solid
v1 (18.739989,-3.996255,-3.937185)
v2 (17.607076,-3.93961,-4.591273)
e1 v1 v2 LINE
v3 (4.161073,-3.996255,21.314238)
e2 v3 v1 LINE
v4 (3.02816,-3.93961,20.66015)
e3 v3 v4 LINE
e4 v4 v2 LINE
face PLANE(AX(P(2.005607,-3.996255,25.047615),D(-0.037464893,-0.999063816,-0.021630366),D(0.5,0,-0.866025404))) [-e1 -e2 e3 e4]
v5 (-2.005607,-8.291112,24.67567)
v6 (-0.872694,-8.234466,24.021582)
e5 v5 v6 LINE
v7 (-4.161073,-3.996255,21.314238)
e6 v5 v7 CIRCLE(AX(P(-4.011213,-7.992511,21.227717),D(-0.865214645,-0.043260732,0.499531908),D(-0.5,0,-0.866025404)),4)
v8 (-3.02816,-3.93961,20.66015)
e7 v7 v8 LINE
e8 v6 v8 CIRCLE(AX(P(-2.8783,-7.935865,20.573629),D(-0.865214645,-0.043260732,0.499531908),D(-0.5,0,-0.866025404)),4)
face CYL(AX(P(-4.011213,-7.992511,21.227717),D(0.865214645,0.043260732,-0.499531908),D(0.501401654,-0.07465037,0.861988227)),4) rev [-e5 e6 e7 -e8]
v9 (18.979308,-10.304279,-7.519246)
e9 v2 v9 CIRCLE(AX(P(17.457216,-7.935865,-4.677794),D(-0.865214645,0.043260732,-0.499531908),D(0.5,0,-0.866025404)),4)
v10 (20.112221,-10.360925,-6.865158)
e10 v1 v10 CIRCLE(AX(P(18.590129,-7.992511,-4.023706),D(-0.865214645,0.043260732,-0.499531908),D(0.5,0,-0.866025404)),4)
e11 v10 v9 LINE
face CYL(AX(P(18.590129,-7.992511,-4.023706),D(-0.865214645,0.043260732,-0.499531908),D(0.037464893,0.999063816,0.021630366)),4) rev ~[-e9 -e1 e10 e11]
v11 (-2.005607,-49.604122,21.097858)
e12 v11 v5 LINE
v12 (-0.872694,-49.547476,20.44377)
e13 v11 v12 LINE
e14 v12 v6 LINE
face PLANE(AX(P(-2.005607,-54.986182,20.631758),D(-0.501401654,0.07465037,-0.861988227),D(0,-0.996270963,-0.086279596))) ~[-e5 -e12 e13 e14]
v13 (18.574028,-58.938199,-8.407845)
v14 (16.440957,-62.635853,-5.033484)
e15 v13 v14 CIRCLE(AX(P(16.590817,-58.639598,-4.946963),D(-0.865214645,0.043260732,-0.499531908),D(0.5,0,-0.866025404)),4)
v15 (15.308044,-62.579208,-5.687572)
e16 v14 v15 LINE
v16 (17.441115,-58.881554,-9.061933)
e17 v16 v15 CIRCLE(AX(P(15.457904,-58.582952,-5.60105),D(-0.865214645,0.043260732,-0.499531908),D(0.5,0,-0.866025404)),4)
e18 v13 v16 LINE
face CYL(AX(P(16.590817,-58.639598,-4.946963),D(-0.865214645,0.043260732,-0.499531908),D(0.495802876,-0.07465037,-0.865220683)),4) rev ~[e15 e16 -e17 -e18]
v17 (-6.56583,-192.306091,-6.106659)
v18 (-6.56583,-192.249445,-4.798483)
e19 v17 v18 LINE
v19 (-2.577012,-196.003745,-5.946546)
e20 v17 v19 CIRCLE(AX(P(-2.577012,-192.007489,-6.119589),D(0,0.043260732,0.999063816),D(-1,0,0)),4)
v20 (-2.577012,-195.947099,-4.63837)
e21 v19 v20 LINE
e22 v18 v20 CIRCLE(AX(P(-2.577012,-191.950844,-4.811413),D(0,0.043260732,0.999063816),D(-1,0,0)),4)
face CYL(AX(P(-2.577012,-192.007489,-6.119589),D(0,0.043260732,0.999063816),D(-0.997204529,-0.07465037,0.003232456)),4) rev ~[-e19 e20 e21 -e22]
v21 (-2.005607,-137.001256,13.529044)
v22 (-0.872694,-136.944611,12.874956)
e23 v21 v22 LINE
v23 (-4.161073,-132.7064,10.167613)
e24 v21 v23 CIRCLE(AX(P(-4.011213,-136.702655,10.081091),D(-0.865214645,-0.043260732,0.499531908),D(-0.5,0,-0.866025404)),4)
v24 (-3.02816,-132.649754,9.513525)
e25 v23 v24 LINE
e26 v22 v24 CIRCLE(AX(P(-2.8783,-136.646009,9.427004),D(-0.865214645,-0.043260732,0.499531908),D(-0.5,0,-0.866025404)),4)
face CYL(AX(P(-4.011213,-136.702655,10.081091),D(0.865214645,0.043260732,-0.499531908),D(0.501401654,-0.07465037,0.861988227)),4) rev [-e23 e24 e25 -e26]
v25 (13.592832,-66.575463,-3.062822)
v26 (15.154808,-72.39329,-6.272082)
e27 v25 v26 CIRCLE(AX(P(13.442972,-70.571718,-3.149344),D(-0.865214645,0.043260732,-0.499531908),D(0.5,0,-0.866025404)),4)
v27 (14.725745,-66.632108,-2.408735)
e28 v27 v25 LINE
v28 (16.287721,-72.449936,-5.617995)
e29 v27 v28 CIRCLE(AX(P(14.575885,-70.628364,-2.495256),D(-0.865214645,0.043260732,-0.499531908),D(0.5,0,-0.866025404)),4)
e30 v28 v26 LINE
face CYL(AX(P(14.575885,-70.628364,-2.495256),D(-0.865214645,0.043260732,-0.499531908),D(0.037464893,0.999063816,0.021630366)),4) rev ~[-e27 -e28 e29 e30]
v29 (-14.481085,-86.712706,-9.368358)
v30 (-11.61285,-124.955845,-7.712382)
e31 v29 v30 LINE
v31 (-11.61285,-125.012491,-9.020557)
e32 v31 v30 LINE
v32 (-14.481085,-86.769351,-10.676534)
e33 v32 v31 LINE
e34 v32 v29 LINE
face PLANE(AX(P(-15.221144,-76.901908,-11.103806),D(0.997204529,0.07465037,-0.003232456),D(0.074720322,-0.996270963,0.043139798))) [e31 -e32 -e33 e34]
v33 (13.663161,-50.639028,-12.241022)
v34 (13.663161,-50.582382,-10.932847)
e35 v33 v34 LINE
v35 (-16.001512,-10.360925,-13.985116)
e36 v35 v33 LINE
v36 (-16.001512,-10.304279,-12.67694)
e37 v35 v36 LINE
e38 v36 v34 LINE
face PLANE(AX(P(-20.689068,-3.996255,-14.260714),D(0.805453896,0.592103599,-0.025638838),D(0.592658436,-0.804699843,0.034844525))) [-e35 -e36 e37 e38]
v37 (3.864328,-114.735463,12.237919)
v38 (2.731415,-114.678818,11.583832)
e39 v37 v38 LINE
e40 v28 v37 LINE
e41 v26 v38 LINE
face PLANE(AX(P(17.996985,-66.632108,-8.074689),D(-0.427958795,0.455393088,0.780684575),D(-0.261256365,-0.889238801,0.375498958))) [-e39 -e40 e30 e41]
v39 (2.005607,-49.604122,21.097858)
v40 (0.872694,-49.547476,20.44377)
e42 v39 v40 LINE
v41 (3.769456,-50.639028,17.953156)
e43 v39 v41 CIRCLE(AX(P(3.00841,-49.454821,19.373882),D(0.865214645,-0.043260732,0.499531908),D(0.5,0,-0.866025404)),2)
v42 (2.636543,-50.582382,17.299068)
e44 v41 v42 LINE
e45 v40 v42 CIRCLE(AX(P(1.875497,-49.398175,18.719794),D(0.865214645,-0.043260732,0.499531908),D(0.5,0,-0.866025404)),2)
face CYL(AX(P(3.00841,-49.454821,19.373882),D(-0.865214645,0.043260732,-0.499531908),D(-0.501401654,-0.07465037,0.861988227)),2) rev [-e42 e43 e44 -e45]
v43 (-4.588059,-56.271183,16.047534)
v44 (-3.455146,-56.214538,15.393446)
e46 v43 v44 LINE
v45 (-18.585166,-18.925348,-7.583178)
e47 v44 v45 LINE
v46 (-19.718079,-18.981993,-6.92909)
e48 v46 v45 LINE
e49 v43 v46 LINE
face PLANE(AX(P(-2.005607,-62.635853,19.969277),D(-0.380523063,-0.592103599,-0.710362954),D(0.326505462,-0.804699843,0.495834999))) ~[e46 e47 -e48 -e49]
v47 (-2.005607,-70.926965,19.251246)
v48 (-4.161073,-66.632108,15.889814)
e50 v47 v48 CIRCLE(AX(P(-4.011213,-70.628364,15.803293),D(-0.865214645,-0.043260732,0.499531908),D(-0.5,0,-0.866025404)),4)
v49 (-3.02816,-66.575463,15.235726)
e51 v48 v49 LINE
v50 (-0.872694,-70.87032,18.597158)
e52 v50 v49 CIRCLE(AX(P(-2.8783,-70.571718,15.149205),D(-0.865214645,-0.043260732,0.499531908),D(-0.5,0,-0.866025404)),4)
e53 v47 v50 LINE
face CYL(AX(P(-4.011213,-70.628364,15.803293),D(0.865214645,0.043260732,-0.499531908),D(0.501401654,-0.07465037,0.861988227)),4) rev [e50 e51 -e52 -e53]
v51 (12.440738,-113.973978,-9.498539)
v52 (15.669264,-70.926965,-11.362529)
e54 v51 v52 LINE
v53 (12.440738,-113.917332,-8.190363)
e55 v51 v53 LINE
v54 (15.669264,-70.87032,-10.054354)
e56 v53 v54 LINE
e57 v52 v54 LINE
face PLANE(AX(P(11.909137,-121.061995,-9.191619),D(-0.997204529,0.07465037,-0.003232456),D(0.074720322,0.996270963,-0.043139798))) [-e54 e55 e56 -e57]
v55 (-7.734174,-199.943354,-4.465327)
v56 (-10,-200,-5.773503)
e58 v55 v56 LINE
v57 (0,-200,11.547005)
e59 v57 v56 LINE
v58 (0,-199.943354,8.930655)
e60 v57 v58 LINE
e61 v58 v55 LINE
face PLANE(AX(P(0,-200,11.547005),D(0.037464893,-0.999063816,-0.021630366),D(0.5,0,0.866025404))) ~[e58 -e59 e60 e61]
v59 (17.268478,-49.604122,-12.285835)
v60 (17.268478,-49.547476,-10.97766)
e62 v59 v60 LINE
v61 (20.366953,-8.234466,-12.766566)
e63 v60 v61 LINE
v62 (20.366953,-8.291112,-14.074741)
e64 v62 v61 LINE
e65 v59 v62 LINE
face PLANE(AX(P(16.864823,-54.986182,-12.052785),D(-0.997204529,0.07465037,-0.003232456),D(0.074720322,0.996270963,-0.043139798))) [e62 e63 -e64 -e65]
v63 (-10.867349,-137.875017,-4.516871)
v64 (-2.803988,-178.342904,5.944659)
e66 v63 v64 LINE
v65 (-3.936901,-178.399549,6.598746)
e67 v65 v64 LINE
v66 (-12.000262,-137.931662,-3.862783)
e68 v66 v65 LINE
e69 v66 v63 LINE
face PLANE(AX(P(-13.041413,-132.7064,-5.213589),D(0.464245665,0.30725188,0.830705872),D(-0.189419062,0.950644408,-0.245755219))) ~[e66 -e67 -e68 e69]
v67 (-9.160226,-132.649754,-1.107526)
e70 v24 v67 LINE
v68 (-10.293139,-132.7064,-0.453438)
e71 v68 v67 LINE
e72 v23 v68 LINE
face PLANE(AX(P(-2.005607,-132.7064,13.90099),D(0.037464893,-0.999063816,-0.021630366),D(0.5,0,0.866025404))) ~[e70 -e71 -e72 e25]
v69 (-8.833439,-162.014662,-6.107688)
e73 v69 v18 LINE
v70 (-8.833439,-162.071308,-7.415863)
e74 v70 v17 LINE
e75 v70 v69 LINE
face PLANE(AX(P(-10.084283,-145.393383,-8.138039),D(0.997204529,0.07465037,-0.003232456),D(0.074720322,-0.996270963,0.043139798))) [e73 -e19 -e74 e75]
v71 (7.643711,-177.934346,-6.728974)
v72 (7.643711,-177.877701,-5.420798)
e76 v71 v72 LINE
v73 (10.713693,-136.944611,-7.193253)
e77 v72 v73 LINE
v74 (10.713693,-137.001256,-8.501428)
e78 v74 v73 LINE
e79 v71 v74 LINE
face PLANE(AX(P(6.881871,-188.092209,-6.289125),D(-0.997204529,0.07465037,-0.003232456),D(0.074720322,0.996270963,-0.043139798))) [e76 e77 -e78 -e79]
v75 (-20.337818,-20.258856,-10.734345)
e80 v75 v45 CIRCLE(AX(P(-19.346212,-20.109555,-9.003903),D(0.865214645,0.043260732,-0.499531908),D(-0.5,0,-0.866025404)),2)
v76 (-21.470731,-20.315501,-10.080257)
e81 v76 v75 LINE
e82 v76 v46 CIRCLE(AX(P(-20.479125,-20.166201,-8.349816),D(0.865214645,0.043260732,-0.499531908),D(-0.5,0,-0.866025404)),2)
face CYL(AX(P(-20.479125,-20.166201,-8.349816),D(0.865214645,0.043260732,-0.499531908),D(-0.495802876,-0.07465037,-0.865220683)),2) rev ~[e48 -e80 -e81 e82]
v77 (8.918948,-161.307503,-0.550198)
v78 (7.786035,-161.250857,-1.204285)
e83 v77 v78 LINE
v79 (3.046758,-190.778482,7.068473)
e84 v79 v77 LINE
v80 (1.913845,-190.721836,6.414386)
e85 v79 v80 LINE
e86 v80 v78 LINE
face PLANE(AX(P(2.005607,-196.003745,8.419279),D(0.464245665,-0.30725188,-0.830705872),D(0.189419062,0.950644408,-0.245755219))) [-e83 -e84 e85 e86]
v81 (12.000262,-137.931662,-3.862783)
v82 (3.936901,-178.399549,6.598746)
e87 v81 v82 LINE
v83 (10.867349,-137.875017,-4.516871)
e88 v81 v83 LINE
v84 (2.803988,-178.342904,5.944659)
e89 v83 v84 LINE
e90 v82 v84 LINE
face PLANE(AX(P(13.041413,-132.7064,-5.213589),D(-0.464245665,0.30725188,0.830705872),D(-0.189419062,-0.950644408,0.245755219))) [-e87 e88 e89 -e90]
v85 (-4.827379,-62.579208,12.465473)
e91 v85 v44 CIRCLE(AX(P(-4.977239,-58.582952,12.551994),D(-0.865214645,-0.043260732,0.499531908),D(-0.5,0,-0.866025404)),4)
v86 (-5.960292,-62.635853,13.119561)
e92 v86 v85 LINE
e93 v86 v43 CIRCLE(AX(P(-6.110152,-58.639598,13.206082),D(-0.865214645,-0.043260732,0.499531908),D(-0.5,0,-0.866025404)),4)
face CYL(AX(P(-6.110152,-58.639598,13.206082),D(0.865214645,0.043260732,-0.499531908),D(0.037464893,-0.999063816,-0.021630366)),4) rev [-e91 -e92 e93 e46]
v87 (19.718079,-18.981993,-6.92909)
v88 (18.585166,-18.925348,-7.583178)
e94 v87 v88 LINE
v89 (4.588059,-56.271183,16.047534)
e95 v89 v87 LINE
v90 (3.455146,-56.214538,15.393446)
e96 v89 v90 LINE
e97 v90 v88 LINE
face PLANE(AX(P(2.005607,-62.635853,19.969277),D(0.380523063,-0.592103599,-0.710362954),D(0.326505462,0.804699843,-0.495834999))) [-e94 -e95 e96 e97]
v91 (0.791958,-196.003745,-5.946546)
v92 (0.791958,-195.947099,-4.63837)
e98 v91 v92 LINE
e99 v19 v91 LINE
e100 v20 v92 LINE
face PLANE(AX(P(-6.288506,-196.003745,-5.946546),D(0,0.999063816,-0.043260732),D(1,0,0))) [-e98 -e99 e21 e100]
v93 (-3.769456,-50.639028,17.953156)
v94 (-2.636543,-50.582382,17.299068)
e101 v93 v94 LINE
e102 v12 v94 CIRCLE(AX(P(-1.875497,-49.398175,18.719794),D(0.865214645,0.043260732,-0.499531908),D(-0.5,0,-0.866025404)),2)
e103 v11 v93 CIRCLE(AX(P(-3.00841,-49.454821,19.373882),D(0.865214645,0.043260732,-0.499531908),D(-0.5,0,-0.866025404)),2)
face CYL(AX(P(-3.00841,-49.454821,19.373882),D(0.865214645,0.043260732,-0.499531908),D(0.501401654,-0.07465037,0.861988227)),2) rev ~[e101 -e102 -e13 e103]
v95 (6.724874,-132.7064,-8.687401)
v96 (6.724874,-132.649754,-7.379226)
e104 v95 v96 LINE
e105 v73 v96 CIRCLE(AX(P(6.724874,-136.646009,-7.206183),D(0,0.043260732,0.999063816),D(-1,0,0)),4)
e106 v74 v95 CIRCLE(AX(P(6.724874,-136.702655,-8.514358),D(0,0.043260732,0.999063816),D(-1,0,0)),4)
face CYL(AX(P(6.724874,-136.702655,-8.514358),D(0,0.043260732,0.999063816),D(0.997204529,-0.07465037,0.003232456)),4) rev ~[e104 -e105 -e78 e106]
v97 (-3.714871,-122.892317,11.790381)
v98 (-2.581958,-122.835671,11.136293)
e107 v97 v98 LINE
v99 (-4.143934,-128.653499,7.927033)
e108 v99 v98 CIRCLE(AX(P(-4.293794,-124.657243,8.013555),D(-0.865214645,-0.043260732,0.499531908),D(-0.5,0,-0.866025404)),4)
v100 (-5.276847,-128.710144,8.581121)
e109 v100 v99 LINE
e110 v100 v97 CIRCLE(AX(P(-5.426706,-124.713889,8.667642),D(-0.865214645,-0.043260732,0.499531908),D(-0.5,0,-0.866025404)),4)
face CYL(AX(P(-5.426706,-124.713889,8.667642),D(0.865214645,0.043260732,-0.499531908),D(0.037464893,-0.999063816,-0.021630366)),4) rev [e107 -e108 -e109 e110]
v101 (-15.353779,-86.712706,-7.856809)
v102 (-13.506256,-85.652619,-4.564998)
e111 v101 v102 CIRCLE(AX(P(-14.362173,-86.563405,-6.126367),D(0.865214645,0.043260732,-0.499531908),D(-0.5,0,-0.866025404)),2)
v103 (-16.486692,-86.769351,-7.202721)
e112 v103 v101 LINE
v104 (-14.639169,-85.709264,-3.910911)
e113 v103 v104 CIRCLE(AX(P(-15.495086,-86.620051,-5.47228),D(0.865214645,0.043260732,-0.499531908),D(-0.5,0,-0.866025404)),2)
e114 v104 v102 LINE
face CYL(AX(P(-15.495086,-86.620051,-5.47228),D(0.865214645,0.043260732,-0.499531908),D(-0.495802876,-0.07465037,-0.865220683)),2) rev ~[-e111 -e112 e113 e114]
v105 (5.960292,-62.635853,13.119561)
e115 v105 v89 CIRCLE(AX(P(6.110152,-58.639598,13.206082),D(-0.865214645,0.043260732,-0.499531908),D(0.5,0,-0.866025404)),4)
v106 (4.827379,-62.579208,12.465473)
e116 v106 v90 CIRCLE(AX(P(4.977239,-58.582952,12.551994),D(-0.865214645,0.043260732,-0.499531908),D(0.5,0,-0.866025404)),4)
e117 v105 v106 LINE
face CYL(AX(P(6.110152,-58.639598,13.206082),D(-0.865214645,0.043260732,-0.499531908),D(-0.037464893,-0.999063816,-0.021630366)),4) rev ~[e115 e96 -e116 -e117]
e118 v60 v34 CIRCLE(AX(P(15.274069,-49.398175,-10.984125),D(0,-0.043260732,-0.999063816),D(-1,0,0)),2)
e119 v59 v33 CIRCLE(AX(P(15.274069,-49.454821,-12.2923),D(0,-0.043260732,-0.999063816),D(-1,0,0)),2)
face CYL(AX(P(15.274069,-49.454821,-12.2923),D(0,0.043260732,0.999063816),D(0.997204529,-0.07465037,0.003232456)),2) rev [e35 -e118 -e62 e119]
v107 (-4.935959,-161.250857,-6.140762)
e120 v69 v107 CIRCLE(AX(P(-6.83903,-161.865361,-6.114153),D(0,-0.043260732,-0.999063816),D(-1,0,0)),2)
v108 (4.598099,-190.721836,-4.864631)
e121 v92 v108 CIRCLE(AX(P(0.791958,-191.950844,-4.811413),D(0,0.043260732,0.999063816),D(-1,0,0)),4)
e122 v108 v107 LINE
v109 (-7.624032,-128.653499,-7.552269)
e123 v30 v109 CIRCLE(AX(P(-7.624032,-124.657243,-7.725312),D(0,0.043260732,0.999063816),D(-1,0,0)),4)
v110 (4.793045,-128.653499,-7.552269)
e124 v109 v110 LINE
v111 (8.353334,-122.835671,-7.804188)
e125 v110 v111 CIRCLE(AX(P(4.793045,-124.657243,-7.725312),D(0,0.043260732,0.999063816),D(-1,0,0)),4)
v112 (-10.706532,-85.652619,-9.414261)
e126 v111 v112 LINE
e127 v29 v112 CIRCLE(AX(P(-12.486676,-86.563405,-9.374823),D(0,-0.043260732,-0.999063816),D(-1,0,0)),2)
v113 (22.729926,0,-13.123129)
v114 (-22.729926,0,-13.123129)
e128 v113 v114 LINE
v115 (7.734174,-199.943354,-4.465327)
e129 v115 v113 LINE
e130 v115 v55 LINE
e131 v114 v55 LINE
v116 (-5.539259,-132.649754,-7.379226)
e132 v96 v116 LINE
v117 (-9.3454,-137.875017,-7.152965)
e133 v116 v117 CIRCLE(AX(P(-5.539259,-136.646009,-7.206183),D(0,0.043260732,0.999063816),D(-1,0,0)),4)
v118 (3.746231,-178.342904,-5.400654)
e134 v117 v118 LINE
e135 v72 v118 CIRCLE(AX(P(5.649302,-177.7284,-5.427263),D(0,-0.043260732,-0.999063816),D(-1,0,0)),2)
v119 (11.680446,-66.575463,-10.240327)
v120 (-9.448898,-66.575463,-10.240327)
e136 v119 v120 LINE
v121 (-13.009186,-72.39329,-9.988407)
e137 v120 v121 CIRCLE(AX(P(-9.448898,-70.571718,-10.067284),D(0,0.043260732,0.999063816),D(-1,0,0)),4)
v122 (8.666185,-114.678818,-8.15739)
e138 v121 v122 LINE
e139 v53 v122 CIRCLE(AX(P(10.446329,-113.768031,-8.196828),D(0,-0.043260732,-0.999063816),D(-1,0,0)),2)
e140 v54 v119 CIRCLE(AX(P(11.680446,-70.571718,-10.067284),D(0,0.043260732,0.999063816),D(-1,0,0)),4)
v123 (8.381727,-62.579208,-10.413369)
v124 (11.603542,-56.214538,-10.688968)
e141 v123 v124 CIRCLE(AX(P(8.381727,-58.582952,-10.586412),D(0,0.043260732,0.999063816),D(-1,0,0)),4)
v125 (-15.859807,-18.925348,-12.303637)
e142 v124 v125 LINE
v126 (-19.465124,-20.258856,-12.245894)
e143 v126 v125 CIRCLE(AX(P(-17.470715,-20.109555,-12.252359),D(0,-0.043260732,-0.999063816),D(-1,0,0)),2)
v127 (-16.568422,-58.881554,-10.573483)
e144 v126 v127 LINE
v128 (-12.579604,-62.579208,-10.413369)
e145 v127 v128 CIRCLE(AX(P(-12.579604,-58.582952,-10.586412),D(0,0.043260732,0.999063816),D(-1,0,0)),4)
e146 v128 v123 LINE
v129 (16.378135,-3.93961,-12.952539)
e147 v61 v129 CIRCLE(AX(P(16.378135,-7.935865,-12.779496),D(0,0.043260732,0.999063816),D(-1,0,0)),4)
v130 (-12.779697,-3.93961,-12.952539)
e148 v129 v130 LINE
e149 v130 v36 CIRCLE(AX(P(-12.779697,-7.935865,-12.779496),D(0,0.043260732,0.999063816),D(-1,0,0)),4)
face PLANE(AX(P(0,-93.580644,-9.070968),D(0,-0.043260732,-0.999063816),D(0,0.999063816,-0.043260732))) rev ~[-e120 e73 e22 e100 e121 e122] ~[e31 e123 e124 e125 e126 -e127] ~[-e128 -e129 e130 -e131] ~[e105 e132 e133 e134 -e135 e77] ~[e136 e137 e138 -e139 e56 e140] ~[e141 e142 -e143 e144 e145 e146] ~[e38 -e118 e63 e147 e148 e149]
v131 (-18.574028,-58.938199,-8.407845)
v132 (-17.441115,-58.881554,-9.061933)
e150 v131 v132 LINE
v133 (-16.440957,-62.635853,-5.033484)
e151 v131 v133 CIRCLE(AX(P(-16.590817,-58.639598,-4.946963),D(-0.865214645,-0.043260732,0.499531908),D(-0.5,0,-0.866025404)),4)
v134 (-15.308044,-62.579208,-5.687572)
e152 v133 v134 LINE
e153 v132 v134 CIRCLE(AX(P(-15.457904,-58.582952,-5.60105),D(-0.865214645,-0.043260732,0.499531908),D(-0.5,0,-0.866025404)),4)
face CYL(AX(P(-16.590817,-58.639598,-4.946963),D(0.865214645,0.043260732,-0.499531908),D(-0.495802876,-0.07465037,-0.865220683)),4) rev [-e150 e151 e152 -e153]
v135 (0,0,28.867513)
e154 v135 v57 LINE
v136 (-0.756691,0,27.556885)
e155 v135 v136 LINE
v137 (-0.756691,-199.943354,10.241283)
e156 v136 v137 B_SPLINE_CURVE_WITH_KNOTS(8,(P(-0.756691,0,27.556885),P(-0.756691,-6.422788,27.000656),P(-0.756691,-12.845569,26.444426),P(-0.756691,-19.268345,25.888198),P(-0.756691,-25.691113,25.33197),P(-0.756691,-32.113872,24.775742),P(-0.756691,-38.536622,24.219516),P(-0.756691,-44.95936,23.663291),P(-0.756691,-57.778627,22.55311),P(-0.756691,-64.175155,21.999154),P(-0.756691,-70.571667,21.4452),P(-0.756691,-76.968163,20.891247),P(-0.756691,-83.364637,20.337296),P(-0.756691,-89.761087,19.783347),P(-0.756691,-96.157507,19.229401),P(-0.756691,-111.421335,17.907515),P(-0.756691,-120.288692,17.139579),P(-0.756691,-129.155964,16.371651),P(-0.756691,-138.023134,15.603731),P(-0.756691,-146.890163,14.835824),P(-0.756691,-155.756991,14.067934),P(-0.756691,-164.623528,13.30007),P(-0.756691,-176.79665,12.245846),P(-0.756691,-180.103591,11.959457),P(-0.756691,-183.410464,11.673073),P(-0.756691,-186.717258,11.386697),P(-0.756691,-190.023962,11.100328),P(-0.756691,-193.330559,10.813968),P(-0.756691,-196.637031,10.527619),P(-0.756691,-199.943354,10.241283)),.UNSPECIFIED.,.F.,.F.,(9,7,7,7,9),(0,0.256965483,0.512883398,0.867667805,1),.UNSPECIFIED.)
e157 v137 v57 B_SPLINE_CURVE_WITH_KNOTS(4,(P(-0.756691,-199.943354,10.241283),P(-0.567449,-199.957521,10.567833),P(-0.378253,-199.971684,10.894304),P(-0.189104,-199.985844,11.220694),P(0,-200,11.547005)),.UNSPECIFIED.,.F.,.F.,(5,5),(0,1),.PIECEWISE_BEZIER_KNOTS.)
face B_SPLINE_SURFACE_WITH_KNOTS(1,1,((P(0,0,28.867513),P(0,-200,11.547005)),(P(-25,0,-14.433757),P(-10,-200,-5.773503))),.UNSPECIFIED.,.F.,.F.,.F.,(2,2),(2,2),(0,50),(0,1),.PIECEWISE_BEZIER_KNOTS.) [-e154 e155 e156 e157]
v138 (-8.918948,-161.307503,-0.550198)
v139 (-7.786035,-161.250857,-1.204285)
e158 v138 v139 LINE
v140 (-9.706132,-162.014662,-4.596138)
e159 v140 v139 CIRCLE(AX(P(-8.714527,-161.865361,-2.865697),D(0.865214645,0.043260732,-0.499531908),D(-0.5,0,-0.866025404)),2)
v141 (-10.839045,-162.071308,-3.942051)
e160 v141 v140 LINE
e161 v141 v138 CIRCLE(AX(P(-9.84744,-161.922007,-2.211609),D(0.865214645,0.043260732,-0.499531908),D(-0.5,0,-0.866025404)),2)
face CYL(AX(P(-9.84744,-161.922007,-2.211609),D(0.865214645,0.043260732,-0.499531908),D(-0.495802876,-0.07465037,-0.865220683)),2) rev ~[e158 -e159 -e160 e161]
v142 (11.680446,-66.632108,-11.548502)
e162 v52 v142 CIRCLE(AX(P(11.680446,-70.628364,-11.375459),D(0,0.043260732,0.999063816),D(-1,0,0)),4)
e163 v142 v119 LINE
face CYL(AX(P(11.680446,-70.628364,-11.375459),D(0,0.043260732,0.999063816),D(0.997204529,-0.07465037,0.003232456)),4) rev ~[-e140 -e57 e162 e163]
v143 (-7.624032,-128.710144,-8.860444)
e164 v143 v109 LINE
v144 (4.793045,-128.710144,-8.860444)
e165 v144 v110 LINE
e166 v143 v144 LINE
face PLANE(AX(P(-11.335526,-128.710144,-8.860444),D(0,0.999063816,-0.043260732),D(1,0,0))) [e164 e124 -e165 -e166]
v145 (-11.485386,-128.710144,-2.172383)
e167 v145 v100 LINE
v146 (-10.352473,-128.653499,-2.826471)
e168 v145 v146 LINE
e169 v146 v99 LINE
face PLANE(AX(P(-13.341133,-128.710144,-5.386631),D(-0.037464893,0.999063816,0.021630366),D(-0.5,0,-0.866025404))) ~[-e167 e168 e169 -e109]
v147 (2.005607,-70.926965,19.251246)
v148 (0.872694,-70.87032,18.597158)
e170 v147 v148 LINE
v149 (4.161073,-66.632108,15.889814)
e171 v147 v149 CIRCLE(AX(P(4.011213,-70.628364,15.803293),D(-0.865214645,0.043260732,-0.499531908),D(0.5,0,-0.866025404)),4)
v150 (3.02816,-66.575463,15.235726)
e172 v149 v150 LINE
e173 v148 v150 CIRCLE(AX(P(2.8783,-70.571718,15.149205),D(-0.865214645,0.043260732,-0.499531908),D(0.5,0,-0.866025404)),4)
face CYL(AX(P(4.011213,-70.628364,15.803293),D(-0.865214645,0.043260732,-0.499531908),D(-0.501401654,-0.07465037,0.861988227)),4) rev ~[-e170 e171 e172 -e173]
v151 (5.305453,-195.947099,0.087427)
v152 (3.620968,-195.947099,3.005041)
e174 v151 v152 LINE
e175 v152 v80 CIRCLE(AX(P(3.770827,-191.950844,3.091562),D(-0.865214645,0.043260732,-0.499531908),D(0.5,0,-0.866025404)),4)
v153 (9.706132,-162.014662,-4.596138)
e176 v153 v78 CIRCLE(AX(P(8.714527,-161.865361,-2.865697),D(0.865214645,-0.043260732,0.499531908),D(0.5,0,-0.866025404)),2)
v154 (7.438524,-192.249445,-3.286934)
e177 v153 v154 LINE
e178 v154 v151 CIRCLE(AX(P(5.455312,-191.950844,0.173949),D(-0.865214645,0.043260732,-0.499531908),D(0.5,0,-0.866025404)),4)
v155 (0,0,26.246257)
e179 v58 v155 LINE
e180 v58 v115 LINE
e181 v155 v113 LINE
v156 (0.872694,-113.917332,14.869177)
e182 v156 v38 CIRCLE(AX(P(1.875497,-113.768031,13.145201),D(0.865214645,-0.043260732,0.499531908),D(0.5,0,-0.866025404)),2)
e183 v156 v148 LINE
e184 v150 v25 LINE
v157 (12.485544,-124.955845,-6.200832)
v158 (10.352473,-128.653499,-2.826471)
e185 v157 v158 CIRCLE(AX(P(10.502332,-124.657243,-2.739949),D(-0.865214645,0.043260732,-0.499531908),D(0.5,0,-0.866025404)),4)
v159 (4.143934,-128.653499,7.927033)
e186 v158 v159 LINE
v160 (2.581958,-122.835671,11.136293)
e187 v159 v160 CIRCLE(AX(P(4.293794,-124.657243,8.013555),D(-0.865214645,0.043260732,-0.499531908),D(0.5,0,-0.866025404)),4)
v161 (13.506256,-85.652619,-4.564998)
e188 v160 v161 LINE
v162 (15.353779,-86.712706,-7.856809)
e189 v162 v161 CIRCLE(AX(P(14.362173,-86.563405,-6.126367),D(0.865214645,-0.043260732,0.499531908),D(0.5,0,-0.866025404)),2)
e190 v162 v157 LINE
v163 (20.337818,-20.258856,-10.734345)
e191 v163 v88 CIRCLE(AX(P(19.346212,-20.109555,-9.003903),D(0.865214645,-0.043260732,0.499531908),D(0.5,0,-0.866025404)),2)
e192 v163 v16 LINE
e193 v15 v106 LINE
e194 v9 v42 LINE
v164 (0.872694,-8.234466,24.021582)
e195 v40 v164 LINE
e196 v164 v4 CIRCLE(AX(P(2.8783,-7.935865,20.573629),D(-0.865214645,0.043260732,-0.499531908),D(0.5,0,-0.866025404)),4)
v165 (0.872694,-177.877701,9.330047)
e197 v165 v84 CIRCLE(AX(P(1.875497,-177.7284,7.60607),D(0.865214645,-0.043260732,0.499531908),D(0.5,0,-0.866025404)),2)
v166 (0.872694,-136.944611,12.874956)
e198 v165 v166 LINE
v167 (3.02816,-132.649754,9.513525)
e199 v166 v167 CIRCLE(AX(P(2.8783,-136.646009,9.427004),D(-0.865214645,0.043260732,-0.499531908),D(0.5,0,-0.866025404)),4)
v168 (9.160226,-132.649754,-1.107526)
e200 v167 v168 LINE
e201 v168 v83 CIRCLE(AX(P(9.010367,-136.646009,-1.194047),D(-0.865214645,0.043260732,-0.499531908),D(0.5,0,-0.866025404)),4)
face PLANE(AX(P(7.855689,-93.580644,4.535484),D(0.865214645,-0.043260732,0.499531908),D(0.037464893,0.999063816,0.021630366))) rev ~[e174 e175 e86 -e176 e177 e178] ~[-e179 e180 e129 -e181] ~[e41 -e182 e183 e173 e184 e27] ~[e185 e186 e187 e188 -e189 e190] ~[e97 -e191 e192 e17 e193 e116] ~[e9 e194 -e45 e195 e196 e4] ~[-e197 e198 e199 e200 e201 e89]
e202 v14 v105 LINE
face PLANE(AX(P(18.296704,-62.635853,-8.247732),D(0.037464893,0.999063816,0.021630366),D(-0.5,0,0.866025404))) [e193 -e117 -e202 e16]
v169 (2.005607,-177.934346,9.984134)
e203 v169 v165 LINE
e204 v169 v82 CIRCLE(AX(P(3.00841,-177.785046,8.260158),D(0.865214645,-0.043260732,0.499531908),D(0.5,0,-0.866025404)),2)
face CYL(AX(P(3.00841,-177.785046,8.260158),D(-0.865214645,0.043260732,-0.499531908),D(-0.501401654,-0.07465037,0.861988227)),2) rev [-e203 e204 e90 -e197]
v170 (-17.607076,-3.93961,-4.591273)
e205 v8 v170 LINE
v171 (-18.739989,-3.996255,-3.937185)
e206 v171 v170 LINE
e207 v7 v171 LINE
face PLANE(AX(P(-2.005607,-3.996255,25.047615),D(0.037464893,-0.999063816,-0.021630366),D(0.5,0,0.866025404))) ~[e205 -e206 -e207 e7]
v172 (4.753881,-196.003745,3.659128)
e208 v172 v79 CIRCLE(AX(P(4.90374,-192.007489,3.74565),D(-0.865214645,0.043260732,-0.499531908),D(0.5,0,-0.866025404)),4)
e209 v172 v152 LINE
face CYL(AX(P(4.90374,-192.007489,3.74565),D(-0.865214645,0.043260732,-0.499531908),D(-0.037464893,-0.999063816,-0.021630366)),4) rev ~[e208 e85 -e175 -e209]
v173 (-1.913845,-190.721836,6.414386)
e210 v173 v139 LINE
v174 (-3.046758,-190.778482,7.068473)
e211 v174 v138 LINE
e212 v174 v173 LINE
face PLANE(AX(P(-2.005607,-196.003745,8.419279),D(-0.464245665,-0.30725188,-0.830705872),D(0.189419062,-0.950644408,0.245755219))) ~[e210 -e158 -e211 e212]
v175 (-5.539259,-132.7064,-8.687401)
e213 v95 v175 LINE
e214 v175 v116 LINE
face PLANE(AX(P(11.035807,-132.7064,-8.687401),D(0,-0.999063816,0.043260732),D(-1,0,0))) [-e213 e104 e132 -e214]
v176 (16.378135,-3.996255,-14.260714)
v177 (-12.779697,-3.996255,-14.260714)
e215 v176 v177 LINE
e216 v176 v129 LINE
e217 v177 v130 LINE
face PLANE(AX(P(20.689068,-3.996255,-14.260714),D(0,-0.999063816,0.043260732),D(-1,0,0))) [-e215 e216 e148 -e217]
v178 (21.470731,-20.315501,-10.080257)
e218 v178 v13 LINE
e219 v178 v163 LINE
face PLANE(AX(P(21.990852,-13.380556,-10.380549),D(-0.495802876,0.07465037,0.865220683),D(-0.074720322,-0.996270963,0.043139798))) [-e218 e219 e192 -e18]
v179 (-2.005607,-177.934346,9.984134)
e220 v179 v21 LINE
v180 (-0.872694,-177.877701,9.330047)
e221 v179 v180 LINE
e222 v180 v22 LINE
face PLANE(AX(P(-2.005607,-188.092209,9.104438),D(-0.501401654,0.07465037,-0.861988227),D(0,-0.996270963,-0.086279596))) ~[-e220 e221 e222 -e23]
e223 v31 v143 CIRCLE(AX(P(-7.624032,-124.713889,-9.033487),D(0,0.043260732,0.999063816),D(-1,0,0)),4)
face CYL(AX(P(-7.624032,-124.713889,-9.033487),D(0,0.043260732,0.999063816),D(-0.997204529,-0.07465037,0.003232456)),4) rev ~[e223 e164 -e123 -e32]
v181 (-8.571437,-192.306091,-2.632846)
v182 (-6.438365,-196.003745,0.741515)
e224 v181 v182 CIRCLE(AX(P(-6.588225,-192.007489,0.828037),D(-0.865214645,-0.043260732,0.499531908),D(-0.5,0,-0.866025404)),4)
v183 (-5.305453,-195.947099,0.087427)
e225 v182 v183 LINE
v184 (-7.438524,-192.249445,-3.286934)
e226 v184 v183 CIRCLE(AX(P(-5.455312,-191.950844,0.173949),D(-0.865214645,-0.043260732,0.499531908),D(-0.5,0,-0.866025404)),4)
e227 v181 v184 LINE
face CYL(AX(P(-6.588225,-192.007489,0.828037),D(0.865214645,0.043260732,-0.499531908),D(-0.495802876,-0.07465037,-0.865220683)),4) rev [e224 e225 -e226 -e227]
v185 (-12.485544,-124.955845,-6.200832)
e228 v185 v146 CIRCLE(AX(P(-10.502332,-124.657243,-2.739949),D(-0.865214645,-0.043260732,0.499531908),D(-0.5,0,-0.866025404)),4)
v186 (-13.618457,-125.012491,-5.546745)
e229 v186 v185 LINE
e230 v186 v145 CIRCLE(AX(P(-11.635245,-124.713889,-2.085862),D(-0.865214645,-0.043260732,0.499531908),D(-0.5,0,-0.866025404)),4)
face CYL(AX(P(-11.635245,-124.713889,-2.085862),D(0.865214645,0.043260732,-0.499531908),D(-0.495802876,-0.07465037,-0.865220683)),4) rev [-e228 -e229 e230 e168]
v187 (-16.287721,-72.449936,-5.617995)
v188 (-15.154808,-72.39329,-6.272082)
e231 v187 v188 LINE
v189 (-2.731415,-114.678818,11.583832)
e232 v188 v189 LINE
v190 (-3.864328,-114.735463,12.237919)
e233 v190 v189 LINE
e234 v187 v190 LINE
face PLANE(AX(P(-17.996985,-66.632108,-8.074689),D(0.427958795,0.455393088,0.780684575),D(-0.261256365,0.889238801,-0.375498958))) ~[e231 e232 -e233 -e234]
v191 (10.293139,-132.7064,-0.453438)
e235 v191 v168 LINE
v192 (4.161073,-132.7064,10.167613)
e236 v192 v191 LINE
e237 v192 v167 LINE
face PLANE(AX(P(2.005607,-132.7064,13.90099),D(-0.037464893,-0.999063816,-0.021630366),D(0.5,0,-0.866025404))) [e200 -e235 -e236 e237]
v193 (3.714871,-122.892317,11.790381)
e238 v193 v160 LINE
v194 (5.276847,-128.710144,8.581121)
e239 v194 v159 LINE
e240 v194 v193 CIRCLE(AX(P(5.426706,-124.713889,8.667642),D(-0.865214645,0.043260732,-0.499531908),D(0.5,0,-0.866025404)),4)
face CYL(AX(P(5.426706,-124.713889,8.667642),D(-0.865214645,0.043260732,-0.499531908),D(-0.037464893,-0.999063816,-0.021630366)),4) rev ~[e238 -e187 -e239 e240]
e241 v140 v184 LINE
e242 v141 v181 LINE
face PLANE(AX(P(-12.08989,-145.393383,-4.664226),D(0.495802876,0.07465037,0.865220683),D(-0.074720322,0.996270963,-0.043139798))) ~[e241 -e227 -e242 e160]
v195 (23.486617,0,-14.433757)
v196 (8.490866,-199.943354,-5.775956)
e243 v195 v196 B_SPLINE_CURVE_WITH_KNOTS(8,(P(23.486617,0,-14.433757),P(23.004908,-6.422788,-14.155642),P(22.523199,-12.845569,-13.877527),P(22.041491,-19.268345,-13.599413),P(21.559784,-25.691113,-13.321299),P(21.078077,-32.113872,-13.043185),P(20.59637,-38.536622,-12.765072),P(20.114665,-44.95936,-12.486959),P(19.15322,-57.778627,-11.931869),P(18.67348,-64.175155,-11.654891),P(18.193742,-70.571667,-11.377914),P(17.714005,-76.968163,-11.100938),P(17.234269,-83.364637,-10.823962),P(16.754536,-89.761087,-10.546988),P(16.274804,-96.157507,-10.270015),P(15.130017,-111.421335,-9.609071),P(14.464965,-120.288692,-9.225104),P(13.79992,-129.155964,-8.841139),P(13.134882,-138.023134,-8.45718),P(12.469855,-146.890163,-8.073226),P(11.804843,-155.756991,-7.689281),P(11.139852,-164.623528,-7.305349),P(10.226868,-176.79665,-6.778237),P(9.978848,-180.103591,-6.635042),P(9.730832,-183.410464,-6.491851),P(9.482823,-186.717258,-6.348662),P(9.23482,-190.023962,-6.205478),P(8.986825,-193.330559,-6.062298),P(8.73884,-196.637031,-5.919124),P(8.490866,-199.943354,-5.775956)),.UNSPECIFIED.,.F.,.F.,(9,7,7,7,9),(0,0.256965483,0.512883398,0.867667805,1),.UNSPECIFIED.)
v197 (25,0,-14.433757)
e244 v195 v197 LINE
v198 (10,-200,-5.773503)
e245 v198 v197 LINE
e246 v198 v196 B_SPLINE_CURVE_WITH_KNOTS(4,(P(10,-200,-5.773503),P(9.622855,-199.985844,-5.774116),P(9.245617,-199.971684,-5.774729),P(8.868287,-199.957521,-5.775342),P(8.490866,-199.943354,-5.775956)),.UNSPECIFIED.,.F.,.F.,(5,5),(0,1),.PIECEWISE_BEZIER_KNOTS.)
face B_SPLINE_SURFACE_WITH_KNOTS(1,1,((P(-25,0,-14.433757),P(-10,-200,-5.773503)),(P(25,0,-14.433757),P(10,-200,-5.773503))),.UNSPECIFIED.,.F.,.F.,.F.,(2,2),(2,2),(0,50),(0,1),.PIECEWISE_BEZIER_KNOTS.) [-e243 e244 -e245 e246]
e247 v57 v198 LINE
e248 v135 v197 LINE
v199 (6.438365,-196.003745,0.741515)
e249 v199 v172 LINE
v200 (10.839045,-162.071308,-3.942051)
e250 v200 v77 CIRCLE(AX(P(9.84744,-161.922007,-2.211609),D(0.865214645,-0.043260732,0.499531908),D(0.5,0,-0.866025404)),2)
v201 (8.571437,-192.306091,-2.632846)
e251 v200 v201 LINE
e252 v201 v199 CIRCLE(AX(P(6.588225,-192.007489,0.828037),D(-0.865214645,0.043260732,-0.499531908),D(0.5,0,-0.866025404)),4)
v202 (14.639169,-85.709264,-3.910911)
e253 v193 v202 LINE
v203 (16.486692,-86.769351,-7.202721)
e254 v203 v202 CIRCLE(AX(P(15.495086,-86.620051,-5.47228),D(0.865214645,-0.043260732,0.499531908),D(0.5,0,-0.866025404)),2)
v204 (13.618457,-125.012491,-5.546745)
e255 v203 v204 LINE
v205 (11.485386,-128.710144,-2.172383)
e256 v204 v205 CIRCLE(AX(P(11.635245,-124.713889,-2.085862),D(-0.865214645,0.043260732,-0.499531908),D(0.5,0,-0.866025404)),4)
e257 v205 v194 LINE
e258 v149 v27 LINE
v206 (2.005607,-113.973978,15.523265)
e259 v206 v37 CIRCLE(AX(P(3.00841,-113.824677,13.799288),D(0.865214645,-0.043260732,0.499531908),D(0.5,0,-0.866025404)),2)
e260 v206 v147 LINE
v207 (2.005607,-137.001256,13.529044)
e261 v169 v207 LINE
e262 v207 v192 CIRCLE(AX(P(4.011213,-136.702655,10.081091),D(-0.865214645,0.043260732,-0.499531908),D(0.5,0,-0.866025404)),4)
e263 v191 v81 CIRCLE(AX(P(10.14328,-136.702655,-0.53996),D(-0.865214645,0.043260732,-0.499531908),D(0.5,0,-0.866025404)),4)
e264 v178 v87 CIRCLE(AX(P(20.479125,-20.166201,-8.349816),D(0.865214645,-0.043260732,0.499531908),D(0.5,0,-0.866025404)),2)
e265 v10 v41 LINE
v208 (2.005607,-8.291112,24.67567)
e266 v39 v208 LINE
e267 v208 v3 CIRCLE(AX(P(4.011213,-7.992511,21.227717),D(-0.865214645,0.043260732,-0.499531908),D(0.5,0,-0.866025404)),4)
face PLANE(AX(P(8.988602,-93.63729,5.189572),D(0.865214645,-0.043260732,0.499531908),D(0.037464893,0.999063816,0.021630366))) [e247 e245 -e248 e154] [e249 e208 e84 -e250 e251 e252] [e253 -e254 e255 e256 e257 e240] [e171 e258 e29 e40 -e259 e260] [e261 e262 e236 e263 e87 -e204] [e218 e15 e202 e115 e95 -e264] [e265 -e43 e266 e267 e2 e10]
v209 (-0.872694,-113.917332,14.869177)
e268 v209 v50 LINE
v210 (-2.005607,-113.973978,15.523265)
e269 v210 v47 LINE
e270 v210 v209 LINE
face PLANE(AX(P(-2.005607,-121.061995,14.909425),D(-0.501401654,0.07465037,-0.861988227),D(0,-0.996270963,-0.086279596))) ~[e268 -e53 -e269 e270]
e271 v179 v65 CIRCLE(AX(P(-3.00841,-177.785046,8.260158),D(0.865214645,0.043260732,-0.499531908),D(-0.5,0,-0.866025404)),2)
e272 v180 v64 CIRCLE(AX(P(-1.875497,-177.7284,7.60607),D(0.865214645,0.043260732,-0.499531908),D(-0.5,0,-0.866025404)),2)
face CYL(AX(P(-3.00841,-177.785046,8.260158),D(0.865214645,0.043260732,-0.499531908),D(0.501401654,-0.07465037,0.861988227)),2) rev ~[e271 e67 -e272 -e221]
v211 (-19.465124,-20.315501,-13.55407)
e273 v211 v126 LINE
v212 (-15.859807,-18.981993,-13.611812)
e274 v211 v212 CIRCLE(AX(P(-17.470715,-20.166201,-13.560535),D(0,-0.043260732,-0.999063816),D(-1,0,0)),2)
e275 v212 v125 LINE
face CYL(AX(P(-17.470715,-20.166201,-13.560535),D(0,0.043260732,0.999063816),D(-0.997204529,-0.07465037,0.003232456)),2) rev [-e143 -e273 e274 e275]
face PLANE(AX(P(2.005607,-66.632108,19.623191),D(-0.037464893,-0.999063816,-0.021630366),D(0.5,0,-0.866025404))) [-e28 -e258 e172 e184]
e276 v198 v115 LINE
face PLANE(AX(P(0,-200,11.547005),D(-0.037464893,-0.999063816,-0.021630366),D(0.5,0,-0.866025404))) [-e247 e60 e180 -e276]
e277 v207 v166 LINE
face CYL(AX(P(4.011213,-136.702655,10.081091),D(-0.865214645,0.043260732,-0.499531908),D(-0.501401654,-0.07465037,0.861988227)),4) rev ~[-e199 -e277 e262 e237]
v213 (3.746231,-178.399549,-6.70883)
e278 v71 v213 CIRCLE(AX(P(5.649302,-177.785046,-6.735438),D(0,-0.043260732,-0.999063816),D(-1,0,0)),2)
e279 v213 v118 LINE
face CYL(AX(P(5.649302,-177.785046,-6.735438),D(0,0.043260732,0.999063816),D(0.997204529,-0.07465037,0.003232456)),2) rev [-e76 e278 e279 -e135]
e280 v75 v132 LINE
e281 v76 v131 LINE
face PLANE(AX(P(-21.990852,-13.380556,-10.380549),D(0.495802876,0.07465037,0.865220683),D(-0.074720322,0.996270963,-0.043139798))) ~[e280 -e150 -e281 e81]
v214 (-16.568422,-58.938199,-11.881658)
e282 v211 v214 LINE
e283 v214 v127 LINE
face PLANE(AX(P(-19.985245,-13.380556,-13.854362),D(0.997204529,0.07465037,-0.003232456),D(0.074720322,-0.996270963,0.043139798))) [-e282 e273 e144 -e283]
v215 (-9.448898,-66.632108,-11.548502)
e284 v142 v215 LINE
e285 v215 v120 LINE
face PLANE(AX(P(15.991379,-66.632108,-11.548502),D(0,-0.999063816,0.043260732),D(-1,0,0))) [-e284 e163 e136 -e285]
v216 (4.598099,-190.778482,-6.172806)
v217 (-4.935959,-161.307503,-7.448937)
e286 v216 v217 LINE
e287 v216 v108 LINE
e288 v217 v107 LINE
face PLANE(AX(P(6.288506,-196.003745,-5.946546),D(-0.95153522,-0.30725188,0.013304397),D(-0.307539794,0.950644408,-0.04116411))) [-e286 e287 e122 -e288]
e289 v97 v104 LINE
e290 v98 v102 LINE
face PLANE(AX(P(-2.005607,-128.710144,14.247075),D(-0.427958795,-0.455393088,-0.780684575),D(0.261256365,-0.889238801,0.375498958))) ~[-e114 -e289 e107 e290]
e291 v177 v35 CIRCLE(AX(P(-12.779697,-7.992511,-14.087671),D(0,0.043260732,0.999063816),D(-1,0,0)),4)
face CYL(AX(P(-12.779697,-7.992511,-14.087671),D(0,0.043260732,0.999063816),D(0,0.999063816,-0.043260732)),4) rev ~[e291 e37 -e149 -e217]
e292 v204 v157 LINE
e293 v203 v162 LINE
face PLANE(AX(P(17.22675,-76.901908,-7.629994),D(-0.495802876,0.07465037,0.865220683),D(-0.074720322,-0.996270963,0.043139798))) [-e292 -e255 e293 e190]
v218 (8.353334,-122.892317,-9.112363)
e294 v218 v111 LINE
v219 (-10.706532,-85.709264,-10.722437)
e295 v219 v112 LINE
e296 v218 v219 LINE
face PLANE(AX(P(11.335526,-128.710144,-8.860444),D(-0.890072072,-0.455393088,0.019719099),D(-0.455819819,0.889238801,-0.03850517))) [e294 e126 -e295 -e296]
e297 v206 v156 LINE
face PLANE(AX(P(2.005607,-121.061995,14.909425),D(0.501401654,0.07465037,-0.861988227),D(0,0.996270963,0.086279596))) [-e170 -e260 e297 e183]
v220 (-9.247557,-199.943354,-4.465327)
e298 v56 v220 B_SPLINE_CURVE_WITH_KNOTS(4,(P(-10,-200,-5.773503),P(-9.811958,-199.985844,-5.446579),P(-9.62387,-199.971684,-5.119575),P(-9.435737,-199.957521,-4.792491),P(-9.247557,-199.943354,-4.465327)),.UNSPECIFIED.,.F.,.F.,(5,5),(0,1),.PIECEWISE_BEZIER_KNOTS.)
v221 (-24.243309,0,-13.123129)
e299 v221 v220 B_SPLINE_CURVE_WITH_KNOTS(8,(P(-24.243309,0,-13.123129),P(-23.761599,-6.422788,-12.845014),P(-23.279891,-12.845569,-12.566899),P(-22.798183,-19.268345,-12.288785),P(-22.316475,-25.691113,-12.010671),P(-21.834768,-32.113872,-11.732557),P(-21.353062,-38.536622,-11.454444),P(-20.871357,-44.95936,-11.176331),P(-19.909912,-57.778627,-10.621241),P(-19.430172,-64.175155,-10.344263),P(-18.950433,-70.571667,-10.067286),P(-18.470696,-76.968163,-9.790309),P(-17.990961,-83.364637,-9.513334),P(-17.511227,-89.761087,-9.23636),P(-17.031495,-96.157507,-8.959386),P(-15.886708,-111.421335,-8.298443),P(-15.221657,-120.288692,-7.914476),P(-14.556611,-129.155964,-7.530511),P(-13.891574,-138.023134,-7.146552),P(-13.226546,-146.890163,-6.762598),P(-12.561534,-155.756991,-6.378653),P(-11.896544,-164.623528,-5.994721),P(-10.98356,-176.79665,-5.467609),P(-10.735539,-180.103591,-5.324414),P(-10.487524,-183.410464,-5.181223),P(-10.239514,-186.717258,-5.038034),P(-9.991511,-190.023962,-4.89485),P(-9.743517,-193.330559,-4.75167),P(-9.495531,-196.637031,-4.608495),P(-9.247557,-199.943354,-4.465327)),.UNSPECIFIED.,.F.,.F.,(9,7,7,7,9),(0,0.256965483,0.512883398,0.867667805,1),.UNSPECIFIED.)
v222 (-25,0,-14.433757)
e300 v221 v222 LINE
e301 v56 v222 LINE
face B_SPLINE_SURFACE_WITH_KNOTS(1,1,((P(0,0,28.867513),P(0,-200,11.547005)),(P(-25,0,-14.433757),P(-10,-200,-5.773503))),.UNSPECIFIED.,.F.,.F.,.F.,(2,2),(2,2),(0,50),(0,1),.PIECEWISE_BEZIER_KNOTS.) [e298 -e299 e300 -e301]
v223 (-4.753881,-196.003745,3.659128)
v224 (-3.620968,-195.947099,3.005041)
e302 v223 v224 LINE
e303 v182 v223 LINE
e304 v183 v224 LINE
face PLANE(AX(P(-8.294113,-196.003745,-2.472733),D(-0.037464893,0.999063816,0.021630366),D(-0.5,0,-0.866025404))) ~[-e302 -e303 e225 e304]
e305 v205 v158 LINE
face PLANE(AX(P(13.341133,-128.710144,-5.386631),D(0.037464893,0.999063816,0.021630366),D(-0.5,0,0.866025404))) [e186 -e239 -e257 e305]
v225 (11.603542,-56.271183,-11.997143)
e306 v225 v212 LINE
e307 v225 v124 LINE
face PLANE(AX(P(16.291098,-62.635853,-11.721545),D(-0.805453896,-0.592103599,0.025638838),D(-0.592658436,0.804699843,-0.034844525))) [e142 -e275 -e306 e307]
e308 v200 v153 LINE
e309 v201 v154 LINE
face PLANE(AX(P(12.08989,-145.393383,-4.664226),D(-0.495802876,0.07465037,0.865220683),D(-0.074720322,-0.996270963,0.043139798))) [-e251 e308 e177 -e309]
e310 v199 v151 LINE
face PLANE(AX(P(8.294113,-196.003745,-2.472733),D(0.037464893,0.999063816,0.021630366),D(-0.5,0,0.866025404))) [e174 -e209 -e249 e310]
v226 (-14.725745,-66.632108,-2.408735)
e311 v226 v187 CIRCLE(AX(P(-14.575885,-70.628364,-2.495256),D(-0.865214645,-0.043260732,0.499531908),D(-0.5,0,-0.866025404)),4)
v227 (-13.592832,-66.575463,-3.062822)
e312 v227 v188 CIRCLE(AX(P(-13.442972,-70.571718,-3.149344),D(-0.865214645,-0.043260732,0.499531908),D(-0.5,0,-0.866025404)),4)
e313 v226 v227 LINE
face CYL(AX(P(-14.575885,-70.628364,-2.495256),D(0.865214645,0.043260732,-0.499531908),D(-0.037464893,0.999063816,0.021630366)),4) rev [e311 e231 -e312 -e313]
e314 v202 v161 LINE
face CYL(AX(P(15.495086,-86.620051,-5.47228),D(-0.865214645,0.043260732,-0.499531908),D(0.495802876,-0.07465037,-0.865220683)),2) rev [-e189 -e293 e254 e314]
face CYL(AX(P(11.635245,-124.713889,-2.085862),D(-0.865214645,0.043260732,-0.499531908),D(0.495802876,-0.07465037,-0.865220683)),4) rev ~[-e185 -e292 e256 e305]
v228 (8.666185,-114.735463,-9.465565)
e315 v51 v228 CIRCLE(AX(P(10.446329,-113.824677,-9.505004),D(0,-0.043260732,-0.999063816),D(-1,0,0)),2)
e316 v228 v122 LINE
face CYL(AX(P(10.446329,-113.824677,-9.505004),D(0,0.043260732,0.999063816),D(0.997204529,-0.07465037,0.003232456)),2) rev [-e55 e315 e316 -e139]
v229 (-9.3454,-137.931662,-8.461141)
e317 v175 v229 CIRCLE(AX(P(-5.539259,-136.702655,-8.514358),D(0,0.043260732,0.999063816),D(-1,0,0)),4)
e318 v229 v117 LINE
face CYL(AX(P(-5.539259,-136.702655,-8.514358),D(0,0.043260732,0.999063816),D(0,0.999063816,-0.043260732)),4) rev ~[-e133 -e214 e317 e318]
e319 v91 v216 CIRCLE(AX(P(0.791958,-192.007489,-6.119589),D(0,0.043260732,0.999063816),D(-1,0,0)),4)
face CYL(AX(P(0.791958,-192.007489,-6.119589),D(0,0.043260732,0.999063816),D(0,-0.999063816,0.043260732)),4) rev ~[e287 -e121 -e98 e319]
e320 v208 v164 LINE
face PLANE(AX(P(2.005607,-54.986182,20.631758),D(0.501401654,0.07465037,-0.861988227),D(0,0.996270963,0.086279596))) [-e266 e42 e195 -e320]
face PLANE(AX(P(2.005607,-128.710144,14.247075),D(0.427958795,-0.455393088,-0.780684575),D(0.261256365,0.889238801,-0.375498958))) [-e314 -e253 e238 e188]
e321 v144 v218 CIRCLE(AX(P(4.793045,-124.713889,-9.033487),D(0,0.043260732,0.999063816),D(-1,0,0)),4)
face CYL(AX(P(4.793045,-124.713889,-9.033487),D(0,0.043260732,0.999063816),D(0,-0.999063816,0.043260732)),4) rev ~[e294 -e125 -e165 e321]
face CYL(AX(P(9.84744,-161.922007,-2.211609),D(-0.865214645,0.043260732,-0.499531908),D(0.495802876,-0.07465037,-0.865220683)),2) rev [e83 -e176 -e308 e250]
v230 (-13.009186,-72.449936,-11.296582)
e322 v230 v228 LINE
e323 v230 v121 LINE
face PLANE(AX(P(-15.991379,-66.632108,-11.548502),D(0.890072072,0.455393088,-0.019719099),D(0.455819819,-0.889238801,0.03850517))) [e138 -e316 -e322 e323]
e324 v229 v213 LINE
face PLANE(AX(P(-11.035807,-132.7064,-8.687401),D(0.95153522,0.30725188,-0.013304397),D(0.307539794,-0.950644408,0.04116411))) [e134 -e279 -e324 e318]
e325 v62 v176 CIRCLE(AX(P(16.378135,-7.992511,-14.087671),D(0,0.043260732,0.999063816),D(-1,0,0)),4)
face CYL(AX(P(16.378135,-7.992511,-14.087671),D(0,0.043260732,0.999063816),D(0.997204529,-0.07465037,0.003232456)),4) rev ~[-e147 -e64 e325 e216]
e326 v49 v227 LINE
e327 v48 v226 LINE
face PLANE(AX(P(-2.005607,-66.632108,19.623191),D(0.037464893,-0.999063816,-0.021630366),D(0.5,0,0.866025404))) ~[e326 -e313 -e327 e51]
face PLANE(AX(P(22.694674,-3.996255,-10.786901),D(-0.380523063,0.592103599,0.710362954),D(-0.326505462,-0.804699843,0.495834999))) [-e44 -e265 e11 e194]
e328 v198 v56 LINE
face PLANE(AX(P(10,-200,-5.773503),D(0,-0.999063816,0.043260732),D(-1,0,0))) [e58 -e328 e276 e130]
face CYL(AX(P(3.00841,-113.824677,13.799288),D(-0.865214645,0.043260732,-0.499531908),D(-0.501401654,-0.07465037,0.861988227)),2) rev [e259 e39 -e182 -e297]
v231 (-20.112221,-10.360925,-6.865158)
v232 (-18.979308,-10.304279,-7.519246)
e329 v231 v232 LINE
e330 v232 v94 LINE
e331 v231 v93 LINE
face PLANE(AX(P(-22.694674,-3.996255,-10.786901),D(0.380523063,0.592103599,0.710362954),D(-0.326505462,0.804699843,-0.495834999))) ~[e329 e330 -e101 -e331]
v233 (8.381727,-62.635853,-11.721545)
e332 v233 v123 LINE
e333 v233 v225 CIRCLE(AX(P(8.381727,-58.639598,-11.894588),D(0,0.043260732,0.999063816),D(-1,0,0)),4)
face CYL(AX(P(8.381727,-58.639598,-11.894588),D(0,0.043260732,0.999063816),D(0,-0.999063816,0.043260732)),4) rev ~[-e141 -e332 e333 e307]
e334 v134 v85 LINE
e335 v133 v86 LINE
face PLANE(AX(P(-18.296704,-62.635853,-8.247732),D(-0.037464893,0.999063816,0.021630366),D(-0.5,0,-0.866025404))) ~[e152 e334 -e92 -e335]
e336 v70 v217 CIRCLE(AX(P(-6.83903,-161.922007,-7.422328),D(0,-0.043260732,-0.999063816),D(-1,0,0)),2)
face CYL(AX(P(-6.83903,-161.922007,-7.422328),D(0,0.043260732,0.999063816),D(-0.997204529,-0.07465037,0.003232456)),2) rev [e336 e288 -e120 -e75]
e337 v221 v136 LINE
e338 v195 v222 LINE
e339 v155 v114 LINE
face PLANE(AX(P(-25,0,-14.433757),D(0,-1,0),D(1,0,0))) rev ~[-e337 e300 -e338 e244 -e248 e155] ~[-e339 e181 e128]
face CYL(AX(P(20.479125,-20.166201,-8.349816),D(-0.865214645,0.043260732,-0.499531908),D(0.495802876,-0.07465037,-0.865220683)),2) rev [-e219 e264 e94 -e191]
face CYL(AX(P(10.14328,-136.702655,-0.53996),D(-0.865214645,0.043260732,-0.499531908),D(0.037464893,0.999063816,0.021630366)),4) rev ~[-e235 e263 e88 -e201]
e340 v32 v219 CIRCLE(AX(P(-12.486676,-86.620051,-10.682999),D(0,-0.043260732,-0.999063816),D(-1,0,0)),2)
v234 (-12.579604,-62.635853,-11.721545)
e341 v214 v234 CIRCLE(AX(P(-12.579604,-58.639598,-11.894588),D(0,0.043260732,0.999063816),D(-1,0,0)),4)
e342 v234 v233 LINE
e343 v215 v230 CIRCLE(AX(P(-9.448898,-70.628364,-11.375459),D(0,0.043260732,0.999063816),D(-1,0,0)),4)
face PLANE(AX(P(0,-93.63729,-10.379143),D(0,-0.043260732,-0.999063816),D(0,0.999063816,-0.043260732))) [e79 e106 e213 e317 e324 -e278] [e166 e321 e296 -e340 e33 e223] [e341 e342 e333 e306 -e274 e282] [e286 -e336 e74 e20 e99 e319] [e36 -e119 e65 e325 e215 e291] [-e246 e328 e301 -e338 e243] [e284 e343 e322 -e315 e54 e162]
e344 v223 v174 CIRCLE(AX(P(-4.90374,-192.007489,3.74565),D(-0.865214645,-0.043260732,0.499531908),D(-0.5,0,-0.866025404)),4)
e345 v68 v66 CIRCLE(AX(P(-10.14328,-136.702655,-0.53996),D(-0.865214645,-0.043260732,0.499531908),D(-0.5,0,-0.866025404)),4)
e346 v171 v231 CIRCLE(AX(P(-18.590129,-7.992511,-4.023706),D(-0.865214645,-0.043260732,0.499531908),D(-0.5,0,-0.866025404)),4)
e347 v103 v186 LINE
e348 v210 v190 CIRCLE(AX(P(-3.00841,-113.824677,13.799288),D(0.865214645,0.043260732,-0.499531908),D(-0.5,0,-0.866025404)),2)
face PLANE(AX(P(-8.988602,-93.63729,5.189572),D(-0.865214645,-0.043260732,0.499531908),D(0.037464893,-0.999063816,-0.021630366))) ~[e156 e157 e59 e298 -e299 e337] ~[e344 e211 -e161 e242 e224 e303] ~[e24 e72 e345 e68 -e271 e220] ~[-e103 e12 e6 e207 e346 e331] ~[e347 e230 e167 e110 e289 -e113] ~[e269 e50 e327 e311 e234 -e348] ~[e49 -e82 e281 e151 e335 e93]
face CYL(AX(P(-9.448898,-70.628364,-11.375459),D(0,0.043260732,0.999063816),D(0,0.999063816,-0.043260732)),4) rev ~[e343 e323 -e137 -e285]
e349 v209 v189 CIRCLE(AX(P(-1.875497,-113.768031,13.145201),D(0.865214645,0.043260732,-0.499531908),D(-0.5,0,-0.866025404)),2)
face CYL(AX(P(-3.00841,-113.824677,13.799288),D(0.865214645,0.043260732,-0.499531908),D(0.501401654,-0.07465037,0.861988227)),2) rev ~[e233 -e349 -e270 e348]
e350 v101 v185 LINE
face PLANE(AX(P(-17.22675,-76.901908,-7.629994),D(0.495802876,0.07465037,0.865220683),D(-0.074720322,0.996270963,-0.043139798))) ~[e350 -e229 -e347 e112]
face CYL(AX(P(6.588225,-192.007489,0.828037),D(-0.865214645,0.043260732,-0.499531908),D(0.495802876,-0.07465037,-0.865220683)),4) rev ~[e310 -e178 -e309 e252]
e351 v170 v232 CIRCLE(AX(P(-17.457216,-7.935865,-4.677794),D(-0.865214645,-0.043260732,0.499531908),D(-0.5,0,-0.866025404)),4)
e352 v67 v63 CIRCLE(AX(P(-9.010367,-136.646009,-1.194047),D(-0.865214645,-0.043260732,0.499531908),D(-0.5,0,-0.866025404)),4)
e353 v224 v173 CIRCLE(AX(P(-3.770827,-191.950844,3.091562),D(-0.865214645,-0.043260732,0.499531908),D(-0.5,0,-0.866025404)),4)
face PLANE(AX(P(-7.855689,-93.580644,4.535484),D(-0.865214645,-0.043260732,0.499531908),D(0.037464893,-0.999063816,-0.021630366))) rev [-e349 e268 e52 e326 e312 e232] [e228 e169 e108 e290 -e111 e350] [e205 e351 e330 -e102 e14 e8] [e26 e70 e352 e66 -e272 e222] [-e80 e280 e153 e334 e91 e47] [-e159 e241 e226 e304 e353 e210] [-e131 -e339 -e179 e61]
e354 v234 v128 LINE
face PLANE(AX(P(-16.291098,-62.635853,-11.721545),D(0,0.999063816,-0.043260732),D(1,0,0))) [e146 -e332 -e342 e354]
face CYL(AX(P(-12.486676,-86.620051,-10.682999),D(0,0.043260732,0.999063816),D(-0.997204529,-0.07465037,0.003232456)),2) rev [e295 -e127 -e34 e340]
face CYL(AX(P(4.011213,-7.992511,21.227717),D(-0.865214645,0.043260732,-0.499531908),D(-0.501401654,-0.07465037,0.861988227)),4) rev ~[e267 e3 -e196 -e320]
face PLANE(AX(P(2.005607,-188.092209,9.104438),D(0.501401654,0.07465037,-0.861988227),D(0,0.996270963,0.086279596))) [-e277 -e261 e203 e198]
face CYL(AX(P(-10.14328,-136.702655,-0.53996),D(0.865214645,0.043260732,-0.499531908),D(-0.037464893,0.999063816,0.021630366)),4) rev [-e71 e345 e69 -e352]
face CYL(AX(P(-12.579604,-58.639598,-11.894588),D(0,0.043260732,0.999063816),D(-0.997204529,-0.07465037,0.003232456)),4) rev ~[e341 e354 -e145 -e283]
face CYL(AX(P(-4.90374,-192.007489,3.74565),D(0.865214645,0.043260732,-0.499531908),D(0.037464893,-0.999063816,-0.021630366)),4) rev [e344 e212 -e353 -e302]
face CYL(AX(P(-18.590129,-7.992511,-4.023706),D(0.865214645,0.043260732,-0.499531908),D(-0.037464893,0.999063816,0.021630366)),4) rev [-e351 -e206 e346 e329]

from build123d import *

# Parameters (mm, degrees)
F12_DEPTH = 1.3094010768
F13_R     = 4
F14_R     = 2
F15_COUNT = 3


with BuildPart() as f12:
    # F11 (on 3pt) → F12 (new body)
    with BuildSketch(Plane(origin=(12.4766063631, -0.6238303182, 7.2033720423), x_dir=(0.0374648931, 0.9990638163, 0.0216303661), z_dir=(0.8652146449, -0.0432607322, 0.4995319082))):
        Polygon((-199.5629973065, -10), (0.6244148852, -25), (0.6244148852, 25), (-199.5629973065, 10), align=None)
        Polygon((-195.5629973065, -6.2885059162), (-195.5629973065, 6.2885059162), (-187.6440477443, 6.881871114), (-132.2063387469, 11.0358067979), (-128.2063387469, 11.3355259428), (-120.5510228532, 11.9091371262), (-66.0701318871, 15.9913786395), (-62.0701318871, 16.2910977844), (-54.4132921405, 16.8648231497), (-3.3755851148, 20.6890676264), (-3.3755851148, -20.6890676264), (-12.7686794815, -19.9852450736), (-62.0701318871, -16.2910977844), (-66.0701318871, -15.9913786395), (-76.3495546331, -15.2211436906), (-128.2063387469, -11.3355259428), (-132.2063387469, -11.0358067979), (-144.9052103128, -10.0842830662), align=None, mode=Mode.SUBTRACT)
        Polygon((-187.6440477443, 6.881871114), (-195.5629973065, 6.2885059162), (-144.9052103128, -10.0842830662), (-132.2063387469, -11.0358067979), align=None)
        Polygon((-128.2063387469, 11.3355259428), (-132.2063387469, 11.0358067979), (-132.2063387469, -11.0358067979), (-128.2063387469, -11.3355259428), align=None)
        Polygon((-120.5510228532, 11.9091371262), (-128.2063387469, 11.3355259428), (-76.3495546331, -15.2211436906), (-66.0701318871, -15.9913786395), align=None)
        Polygon((-62.0701318871, 16.2910977844), (-66.0701318871, 15.9913786395), (-66.0701318871, -15.9913786395), (-62.0701318871, -16.2910977844), align=None)
        Polygon((-54.4132921405, 16.8648231497), (-62.0701318871, 16.2910977844), (-12.7686794815, -19.9852450736), (-3.3755851148, -20.6890676264), align=None)
    extrude(amount=-F12_DEPTH)

    # F13
    f13_edges = [f12.edges().sort_by_distance(p)[0] for p in [
        (7.727656, -195.975422, -2.799777),
        (12.474957, -132.678077, -5.540632),
        (12.774676, -128.681822, -5.713675),
        (22.128218, -3.967932, -11.113945),
        (1.43915, -3.967932, 24.720571),
        (1.43915, -66.603786, 19.296147),
        (1.43915, -62.60753, 19.642233),
        (1.43915, -195.975422, 8.092235),
        (1.43915, -132.678077, 13.573946),
        (1.43915, -128.681822, 13.920032),
        (17.430529, -66.603786, -8.401733),
        (17.730248, -62.60753, -8.574776),
    ]]
    fillet(f13_edges, radius=F13_R)

    # F14
    f14_edges = [f12.edges().sort_by_distance(p)[0] for p in [
        (1.43915, -121.033672, 14.582381),
        (1.43915, -188.063886, 8.777394),
        (11.523433, -145.36506, -4.99127),
        (16.660294, -76.873585, -7.957038),
        (1.43915, -54.957859, 20.304714),
        (21.424395, -13.352233, -10.707593),
    ]]
    fillet(f14_edges, radius=F14_R)


with BuildPart() as f15_1:
    # F15: instance of F12
    add(f12.part.rotate(Axis((0, -100, 0), (0, -1, 0)), 1 * 360 / F15_COUNT))


with BuildPart() as f15_2:
    # F15: instance of F12
    add(f12.part.rotate(Axis((0, -100, 0), (0, -1, 0)), 2 * 360 / F15_COUNT))


with BuildPart() as f17_1:
    # F17: instance of F12
    add(f12.part.mirror(Plane.YZ))


with BuildPart() as f18_tool:
    # F6 (on Front) → F18 section 0
    with BuildSketch(Plane.XZ):
        Polygon((-25, -14.4337567297), (25, -14.4337567297), (0, 28.8675134595), align=None)
    # F8 (on offset) → F18 section 1
    with BuildSketch(Plane.XZ.offset(200)):
        Polygon((10, -5.7735026919), (0, 11.5470053838), (-10, -5.7735026919), align=None)
    loft()


with BuildPart() as f12_1:
    add(f12.part)

    # F18: intersect by f18_tool
    add(f18_tool.part, mode=Mode.INTERSECT)


with BuildPart() as f15_2_1:
    add(f15_2.part)

    # F18: intersect by f18_tool
    add(f18_tool.part, mode=Mode.INTERSECT)


with BuildPart() as f17_1_1:
    add(f17_1.part)

    # F18: intersect by f18_tool
    add(f18_tool.part, mode=Mode.INTERSECT)


with BuildPart() as f12_2:
    add(f12_1.part)

    # F19: union F15_2, F17_1
    add(f15_2_1.part)
    add(f17_1_1.part)


solid = f12_2.part
